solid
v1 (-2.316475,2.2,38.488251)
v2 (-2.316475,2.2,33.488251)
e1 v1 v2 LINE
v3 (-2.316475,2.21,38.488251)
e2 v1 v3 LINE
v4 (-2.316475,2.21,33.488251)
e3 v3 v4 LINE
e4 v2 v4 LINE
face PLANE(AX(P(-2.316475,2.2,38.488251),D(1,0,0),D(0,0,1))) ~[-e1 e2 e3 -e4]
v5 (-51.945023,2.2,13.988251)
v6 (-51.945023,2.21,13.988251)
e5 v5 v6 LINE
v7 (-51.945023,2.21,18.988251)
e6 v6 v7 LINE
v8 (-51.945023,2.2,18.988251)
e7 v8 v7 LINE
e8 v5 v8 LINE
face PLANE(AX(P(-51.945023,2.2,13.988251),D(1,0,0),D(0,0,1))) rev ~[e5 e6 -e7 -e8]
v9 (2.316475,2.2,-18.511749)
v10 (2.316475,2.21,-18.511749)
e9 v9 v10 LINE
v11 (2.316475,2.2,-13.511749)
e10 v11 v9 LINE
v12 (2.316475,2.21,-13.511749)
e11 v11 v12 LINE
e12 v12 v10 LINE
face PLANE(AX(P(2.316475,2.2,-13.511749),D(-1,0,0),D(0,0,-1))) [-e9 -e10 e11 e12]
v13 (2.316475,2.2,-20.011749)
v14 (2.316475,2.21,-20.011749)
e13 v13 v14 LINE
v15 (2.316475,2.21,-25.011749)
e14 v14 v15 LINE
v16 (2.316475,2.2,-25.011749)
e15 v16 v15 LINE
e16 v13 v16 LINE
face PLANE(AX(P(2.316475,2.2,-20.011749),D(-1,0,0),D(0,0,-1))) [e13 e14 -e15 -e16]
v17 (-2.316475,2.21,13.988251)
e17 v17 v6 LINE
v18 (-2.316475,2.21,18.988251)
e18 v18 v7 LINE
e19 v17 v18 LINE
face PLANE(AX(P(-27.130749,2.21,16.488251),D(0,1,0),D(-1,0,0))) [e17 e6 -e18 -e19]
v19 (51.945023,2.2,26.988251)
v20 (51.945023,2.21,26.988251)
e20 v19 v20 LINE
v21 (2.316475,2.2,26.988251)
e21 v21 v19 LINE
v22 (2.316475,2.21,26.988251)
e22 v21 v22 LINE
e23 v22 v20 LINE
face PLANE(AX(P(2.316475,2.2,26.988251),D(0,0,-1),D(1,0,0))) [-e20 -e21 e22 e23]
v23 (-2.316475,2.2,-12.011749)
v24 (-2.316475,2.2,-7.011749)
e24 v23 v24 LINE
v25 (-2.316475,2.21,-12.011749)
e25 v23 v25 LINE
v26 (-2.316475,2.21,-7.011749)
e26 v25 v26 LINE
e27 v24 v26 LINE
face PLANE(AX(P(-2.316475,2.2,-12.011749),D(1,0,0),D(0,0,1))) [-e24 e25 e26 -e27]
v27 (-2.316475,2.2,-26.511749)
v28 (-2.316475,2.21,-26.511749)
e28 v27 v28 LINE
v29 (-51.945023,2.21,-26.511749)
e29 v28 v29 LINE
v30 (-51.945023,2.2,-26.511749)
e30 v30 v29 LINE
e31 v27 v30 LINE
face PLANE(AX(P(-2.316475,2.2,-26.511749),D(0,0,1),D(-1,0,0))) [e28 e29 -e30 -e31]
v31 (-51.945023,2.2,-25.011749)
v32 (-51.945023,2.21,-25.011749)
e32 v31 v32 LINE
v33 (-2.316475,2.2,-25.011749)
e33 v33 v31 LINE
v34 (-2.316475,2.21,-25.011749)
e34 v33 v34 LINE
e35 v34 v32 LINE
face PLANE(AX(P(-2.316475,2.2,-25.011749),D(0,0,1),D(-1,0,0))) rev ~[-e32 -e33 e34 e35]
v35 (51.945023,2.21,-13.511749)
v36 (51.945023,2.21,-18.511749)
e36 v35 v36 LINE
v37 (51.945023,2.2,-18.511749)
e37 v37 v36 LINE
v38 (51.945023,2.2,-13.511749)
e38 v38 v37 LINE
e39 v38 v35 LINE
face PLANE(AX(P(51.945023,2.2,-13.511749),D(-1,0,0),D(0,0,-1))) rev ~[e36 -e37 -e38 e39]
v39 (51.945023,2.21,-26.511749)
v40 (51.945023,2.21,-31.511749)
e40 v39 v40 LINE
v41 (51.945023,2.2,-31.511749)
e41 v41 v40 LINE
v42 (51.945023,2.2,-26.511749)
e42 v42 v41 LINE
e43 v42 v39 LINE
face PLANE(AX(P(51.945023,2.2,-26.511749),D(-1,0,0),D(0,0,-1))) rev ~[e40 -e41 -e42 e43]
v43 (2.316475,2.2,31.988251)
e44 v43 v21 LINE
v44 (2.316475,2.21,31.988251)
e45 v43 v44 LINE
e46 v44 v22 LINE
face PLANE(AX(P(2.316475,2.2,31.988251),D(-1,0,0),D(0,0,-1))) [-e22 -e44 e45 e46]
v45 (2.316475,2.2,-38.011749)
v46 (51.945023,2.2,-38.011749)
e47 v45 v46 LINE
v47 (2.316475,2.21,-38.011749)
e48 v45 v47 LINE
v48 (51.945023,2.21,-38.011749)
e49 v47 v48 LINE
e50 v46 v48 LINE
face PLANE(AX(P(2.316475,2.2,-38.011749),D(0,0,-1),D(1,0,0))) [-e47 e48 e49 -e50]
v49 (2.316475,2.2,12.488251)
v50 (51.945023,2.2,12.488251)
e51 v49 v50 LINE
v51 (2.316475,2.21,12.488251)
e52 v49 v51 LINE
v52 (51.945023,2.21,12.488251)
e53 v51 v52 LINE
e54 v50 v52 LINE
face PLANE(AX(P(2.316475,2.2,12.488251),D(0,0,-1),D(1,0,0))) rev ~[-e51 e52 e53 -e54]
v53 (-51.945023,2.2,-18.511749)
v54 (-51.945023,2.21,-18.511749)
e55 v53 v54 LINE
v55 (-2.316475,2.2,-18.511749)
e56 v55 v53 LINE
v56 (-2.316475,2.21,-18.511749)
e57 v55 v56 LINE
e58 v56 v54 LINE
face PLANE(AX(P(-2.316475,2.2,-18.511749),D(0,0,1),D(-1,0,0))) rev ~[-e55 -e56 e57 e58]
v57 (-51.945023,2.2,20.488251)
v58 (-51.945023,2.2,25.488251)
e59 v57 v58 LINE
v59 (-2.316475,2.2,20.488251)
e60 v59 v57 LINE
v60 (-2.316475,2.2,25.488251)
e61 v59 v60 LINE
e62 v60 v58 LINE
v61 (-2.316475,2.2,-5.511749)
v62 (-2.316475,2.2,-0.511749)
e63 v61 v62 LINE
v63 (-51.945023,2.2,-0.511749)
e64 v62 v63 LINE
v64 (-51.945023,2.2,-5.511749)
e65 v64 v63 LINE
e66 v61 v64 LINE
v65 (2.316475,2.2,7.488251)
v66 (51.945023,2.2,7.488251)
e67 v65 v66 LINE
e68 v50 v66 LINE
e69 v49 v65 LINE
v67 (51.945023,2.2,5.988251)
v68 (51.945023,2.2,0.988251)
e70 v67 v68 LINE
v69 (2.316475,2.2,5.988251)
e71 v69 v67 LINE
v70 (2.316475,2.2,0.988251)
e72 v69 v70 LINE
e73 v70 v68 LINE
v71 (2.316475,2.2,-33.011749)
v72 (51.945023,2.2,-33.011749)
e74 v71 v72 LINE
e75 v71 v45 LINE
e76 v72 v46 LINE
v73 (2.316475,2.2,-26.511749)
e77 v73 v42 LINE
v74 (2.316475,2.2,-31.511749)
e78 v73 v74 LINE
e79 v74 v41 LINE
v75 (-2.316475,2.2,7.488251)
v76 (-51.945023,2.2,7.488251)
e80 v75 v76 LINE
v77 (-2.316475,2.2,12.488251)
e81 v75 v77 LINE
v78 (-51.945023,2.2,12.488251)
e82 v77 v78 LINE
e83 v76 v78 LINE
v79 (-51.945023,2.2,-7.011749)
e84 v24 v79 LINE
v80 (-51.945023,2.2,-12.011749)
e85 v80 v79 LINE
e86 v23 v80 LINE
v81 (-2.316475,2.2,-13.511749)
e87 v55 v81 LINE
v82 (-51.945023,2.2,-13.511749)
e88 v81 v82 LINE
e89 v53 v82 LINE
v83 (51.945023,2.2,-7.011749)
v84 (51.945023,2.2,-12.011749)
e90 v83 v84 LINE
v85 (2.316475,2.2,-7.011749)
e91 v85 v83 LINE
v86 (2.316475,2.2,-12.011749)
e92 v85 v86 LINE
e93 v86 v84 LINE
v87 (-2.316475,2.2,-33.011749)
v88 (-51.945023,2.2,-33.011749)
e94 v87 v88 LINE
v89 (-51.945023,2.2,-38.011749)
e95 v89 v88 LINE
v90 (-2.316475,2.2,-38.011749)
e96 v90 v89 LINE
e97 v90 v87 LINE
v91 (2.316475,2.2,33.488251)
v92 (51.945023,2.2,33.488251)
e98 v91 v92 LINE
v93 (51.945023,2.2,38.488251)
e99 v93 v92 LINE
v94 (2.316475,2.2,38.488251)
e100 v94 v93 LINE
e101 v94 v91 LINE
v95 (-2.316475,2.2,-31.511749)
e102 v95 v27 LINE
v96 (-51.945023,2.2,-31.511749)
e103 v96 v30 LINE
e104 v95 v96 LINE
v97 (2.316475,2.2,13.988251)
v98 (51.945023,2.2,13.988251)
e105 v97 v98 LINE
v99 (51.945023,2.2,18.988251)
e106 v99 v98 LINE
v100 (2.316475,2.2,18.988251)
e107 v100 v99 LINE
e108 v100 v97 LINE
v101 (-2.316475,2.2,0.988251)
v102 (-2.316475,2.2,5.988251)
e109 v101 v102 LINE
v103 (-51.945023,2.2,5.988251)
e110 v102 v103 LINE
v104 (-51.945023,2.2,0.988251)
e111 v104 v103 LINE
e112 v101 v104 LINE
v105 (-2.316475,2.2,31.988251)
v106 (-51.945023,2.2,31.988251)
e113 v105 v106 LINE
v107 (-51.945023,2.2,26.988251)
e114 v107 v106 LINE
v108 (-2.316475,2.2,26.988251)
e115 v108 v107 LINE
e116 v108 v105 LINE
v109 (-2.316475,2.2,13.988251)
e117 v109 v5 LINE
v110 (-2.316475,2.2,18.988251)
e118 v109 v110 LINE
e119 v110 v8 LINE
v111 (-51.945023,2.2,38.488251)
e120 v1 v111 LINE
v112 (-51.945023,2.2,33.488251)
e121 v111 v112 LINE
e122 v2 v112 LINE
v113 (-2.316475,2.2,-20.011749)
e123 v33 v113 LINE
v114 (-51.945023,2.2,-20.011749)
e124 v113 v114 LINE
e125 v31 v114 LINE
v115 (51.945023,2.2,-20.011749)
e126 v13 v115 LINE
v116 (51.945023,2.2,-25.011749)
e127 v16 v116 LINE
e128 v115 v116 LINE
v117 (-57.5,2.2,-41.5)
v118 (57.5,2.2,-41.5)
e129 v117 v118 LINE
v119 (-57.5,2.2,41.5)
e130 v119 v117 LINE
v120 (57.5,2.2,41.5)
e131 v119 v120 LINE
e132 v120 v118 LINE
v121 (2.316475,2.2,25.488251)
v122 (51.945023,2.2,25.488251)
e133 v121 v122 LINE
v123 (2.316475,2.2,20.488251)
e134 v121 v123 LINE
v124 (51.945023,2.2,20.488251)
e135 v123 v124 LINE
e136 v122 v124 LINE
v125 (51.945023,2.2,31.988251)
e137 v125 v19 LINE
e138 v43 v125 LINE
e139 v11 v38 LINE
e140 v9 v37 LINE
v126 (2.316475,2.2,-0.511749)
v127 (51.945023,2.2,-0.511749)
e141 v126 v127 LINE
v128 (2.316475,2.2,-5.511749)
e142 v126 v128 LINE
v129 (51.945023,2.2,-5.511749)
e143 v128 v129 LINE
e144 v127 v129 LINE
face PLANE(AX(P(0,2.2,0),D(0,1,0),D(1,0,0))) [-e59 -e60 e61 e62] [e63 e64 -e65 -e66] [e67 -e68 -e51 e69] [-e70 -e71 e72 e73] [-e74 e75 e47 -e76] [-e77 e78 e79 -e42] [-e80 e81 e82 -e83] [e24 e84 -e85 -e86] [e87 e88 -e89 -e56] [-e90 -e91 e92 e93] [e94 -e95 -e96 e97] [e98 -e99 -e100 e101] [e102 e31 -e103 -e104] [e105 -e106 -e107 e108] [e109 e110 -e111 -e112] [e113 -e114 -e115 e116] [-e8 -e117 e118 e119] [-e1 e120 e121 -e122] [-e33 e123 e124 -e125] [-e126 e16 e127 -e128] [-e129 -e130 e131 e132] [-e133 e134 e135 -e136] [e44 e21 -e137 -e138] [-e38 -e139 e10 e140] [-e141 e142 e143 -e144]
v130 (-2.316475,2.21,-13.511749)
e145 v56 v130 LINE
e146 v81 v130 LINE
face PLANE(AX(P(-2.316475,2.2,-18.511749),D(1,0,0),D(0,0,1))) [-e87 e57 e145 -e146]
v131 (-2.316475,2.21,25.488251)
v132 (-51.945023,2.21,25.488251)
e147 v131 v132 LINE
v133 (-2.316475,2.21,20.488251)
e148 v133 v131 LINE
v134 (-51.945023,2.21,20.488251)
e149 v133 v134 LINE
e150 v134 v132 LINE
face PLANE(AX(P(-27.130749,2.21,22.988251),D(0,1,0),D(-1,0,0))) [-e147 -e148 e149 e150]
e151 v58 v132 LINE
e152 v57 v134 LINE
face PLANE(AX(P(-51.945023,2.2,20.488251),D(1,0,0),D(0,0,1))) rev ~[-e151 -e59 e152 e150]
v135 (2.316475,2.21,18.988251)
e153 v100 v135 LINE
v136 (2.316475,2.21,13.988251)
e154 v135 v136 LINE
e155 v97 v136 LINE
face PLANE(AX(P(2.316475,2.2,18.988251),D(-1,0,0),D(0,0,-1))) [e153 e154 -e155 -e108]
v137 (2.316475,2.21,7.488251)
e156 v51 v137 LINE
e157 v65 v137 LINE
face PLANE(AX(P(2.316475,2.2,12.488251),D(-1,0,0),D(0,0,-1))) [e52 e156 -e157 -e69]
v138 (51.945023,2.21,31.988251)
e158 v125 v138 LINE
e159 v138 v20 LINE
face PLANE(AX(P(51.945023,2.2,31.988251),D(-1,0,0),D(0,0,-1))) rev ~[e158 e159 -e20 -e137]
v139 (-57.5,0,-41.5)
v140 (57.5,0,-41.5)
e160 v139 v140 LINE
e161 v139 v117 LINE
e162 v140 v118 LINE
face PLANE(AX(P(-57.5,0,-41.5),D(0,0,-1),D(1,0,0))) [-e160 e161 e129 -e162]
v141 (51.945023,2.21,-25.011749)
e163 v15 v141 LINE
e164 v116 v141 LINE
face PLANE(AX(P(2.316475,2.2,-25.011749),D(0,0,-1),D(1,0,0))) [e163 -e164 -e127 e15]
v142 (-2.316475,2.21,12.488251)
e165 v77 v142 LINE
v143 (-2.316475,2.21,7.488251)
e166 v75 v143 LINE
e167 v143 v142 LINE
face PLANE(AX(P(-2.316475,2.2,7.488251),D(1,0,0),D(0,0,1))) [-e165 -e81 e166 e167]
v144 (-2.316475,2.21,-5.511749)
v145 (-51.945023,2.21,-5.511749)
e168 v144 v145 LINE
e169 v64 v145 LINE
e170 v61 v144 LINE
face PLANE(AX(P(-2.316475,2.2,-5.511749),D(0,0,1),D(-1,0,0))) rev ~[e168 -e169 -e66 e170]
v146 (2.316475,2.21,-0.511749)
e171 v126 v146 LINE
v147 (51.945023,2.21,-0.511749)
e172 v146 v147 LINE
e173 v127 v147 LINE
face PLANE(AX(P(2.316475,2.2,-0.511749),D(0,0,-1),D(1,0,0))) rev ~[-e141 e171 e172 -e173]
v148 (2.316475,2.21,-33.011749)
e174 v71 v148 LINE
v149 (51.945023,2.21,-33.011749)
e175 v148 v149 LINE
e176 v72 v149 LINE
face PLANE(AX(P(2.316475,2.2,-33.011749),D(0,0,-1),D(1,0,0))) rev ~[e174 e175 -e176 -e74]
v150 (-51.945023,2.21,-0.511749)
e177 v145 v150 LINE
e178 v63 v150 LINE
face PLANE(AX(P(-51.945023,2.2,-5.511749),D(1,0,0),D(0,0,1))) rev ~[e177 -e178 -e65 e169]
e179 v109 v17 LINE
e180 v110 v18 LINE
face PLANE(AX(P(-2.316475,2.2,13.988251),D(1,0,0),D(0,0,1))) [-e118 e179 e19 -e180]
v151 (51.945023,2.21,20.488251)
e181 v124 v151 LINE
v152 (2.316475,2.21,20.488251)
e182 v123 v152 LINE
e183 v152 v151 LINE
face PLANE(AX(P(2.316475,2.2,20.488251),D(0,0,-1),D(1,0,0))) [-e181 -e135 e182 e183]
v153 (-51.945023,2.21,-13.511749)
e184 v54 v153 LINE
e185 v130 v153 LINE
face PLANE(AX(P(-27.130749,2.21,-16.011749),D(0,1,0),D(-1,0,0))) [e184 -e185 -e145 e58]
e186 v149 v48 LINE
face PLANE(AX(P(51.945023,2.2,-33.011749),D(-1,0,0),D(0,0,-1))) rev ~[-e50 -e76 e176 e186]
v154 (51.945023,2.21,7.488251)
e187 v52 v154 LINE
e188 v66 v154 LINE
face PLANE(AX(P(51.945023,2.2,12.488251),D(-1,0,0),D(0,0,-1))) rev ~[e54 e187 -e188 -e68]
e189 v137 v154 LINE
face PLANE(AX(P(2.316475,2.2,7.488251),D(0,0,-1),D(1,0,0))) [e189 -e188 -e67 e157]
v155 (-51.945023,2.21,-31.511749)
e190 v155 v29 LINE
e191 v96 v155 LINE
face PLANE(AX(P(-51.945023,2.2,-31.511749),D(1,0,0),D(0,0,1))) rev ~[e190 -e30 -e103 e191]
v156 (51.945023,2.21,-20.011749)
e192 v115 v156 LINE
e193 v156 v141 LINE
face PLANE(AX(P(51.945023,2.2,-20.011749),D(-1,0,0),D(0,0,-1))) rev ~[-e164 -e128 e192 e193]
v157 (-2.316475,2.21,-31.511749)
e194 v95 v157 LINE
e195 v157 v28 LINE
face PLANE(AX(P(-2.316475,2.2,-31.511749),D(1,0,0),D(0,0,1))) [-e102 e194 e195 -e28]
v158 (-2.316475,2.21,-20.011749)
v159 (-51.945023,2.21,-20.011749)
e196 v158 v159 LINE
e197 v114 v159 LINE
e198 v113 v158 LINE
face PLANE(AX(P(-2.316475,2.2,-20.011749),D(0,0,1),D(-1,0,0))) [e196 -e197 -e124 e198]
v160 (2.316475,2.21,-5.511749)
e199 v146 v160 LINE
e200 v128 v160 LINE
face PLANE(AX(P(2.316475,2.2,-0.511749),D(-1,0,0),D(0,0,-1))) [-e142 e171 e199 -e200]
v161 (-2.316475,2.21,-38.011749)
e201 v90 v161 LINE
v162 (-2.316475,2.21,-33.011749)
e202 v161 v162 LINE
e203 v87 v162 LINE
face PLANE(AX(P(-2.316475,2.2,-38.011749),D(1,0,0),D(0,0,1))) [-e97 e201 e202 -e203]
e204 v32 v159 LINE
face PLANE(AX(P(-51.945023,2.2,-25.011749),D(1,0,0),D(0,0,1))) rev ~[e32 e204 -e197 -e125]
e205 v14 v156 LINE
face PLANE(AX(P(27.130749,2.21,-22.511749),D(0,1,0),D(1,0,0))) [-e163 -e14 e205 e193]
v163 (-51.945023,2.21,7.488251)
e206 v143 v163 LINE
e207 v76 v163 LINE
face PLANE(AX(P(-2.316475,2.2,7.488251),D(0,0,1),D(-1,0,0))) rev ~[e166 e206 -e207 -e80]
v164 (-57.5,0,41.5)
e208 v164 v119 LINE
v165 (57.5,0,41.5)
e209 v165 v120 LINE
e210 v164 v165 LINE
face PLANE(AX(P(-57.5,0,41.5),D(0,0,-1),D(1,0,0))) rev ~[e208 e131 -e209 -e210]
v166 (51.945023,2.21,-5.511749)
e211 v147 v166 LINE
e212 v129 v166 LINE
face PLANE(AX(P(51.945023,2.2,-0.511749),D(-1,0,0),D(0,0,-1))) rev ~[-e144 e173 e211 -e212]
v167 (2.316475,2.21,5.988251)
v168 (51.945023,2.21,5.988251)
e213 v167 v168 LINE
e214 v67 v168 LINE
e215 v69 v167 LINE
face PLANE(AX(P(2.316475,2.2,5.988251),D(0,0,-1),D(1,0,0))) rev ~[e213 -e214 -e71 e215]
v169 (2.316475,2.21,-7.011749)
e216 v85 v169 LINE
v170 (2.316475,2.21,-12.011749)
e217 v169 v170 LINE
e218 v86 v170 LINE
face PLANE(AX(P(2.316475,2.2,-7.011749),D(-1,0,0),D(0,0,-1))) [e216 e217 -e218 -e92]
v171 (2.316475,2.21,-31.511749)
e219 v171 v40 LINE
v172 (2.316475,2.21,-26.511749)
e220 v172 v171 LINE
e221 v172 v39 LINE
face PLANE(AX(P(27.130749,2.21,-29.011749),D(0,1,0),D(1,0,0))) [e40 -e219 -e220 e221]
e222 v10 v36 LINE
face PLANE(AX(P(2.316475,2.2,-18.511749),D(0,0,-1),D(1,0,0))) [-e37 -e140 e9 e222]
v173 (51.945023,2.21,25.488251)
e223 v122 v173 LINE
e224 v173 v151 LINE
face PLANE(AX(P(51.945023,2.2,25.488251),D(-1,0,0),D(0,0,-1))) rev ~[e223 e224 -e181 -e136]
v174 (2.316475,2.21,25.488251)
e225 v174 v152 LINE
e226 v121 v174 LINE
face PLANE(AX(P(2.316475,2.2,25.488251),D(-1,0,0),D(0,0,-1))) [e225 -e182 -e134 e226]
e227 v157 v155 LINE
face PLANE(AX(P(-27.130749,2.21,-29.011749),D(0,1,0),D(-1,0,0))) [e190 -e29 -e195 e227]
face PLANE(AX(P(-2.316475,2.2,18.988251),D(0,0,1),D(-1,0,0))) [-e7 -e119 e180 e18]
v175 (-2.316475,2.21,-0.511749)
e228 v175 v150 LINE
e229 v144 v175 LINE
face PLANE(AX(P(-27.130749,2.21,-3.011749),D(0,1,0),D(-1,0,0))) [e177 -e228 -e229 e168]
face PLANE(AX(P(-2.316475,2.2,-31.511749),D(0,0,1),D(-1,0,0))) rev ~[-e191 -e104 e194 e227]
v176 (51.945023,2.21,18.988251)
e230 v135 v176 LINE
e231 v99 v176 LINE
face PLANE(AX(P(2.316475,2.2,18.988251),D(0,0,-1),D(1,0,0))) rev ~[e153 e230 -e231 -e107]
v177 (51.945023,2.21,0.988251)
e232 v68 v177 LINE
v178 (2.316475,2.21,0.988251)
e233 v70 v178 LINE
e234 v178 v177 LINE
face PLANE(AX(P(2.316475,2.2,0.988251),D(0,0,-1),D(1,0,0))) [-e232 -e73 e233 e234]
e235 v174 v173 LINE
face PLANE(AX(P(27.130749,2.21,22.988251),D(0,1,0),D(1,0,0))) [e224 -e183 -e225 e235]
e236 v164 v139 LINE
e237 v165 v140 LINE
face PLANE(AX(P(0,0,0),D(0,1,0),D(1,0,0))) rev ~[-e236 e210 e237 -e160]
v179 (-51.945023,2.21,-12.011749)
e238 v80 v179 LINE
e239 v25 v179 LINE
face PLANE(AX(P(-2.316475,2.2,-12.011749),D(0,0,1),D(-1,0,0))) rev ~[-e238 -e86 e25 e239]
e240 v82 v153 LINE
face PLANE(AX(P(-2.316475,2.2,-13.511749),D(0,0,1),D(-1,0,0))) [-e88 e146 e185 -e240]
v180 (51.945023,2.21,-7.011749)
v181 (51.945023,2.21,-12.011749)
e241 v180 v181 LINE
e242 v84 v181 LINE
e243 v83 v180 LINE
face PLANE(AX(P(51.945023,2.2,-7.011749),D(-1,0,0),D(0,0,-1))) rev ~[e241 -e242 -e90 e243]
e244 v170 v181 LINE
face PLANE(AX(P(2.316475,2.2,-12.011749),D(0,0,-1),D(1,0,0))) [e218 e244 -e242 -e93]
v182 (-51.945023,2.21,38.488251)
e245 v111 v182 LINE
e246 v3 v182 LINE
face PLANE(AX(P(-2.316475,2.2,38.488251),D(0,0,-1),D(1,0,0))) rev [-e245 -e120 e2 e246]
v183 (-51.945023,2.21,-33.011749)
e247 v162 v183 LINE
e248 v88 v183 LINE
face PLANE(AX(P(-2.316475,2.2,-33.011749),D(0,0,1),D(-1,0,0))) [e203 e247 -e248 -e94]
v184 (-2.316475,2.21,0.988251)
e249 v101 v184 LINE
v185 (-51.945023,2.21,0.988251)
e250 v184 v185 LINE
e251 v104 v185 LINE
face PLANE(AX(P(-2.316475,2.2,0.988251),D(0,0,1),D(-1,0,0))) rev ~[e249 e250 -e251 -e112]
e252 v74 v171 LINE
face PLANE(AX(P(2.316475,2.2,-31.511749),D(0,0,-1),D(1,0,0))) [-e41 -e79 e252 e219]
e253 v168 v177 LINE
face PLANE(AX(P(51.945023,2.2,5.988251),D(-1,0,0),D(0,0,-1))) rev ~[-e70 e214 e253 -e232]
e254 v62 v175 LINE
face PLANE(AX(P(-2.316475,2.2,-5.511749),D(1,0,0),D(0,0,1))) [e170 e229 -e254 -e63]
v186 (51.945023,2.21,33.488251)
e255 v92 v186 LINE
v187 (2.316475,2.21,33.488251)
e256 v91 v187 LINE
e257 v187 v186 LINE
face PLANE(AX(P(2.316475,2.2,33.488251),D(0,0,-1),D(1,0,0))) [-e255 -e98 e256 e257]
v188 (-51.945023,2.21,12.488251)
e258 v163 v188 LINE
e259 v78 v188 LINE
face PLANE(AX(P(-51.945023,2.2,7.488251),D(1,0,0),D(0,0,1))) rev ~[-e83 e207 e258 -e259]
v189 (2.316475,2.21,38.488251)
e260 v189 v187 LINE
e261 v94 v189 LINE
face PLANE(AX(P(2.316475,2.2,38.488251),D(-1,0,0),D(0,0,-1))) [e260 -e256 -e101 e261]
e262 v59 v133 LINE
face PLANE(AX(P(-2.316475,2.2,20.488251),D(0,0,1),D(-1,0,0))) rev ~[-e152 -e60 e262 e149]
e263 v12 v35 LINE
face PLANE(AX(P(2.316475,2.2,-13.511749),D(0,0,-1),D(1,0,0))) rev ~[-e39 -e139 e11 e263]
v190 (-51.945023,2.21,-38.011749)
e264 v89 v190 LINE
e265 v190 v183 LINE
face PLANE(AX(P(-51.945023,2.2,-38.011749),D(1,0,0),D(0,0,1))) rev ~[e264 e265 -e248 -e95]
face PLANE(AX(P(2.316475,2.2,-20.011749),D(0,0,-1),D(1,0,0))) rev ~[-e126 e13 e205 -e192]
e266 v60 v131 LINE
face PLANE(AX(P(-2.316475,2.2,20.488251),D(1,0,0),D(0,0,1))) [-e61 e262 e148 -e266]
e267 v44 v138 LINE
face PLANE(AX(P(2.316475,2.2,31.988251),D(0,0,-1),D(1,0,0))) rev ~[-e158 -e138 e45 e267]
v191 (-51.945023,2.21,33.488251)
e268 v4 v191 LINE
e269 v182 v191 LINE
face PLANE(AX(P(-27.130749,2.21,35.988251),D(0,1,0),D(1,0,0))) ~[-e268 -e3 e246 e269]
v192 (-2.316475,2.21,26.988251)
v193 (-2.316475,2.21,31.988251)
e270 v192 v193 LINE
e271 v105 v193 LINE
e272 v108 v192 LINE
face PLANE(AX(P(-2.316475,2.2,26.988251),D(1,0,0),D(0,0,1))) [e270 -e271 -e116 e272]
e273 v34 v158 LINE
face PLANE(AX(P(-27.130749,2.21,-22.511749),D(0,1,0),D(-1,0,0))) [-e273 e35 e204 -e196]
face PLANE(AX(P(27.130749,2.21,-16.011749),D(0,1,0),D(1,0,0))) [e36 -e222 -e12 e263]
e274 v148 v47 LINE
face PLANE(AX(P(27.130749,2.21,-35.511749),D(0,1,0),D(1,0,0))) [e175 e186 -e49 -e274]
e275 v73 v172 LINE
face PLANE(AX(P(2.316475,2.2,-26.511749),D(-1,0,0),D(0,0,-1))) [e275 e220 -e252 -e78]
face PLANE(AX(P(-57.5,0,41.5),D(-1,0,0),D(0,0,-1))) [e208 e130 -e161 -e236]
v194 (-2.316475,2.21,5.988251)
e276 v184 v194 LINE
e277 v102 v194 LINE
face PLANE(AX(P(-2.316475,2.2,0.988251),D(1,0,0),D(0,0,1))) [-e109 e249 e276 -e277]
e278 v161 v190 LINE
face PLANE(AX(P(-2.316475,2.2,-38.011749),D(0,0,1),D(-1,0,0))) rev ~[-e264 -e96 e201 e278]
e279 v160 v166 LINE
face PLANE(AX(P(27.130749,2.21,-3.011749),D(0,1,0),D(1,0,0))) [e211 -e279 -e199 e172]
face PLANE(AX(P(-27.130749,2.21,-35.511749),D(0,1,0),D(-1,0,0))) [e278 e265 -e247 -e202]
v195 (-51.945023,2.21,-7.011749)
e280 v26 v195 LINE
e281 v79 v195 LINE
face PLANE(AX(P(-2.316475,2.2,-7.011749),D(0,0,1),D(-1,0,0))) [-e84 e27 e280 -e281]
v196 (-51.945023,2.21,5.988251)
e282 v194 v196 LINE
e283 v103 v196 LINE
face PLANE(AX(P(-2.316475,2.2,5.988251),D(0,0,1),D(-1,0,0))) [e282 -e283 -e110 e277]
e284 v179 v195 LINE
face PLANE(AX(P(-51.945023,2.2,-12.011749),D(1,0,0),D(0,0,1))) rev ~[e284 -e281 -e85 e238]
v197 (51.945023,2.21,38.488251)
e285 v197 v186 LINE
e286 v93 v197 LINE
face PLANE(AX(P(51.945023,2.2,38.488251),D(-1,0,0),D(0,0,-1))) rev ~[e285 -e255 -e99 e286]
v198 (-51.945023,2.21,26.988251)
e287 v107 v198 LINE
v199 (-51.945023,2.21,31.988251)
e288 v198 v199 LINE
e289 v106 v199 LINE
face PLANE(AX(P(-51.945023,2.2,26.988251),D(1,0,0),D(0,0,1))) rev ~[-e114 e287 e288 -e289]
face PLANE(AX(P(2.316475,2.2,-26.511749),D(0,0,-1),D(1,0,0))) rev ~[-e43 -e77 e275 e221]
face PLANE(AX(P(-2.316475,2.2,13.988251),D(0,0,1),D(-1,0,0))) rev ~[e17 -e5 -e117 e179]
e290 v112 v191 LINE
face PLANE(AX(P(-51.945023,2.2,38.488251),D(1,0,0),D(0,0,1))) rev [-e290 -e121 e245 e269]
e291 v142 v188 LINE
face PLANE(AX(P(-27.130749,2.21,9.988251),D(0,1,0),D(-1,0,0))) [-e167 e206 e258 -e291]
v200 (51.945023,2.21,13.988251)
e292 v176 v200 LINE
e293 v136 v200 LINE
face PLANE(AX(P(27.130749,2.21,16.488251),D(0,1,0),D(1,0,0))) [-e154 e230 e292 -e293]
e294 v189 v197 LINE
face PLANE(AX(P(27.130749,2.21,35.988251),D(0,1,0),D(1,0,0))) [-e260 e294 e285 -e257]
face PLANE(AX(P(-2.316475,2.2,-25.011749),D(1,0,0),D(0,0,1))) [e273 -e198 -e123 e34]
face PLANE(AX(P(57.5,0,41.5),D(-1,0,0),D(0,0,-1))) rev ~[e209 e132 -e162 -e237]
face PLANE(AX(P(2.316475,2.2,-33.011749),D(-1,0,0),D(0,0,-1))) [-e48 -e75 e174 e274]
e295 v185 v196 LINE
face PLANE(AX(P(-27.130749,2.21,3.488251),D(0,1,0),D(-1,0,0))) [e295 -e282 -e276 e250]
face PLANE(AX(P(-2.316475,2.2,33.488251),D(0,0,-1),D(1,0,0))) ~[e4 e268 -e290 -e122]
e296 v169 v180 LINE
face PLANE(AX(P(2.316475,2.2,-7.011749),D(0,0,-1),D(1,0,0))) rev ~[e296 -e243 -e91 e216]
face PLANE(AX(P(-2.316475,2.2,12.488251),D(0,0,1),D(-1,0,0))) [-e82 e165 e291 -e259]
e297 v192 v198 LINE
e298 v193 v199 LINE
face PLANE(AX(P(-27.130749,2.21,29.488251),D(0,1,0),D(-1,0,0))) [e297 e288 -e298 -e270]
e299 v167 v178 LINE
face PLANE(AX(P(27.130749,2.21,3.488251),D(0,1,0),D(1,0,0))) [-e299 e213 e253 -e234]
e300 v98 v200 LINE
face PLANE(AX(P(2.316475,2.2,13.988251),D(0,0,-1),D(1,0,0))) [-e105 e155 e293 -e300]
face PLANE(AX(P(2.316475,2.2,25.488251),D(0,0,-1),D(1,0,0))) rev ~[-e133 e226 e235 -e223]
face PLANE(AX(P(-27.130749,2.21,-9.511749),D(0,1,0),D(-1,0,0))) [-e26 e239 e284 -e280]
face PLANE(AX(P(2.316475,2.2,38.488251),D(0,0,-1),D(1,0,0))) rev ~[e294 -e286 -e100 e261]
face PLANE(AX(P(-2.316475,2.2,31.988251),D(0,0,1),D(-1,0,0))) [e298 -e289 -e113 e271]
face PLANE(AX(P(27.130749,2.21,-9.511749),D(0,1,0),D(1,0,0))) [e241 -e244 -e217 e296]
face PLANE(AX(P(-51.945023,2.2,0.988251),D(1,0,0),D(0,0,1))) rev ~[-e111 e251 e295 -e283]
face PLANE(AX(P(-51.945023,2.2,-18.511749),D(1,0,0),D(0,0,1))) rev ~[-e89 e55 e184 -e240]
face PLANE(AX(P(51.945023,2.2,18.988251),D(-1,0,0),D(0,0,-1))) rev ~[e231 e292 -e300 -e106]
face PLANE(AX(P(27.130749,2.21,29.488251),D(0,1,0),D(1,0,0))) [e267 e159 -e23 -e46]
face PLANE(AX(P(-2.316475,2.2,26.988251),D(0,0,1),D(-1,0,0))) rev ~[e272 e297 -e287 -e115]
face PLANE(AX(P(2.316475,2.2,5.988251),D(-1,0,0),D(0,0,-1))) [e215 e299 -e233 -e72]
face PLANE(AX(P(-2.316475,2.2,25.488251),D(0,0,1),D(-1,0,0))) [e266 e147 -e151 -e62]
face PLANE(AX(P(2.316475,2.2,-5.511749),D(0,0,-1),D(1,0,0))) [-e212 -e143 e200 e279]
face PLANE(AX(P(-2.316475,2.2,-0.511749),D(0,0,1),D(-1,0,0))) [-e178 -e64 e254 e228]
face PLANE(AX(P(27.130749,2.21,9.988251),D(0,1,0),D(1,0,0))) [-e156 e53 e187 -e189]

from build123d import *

# Parameters (mm, degrees)
SKETCH_1_W                = 115
SKETCH_1_H                = 83
EXTRUDE_1_DEPTH           = 2.2
SKETCH_2_W                = 49.628548445
SKETCH_2_H                = 5
EXTRUDE_2_DEPTH           = 0.01
PATTERN_LINEAR_1_COUNT    = 12
PATTERN_LINEAR_1_PITCH    = 6.5
MIRROR_1_COPY_1_SKETCH_W  = 49.628548445
MIRROR_1_COPY_1_SKETCH_H  = 5
MIRROR_1_COPY_1_DEPTH     = 0.01
MIRROR_1_COPY_2_SKETCH_W  = 49.628548445
MIRROR_1_COPY_2_SKETCH_H  = 5
MIRROR_1_COPY_2_DEPTH     = 0.01
MIRROR_1_COPY_3_SKETCH_W  = 49.628548445
MIRROR_1_COPY_3_SKETCH_H  = 5
MIRROR_1_COPY_3_DEPTH     = 0.01
MIRROR_1_COPY_4_SKETCH_W  = 49.628548445
MIRROR_1_COPY_4_SKETCH_H  = 5
MIRROR_1_COPY_4_DEPTH     = 0.01
MIRROR_1_COPY_5_SKETCH_W  = 49.628548445
MIRROR_1_COPY_5_SKETCH_H  = 5
MIRROR_1_COPY_5_DEPTH     = 0.01
MIRROR_1_COPY_6_SKETCH_W  = 49.628548445
MIRROR_1_COPY_6_SKETCH_H  = 5
MIRROR_1_COPY_6_DEPTH     = 0.01
MIRROR_1_COPY_7_SKETCH_W  = 49.628548445
MIRROR_1_COPY_7_SKETCH_H  = 5
MIRROR_1_COPY_7_DEPTH     = 0.01
MIRROR_1_COPY_8_SKETCH_W  = 49.628548445
MIRROR_1_COPY_8_SKETCH_H  = 5
MIRROR_1_COPY_8_DEPTH     = 0.01
MIRROR_1_COPY_9_SKETCH_W  = 49.628548445
MIRROR_1_COPY_9_SKETCH_H  = 5
MIRROR_1_COPY_9_DEPTH     = 0.01
MIRROR_1_COPY_10_SKETCH_W = 49.628548445
MIRROR_1_COPY_10_SKETCH_H = 5
MIRROR_1_COPY_10_DEPTH    = 0.01
MIRROR_1_COPY_11_SKETCH_W = 49.628548445
MIRROR_1_COPY_11_SKETCH_H = 5
MIRROR_1_COPY_11_DEPTH    = 0.01


with BuildPart() as part:
    # Эскиз1 → Бобышка-Вытянуть1 (new body)
    with BuildSketch(Plane(origin=(0, 0, 0), x_dir=(1, 0, 0), z_dir=(0, 1, 0))):
        Rectangle(SKETCH_1_W, SKETCH_1_H)
    extrude(amount=EXTRUDE_1_DEPTH)

    # Эскиз2 → Бобышка-Вытянуть2 (add)
    with BuildSketch(Plane(origin=(0, 2.2, 0), x_dir=(1, 0, 0), z_dir=(0, 1, 0))):
        with Locations((27.130748896, -35.988250825)):
            Rectangle(SKETCH_2_W, SKETCH_2_H)
    extrude_2 = extrude(amount=EXTRUDE_2_DEPTH)

    # Линейный массив1: Бобышка-Вытянуть2 ×12
    with Locations(*[(0, 0, -i * PATTERN_LINEAR_1_PITCH) for i in range(1, PATTERN_LINEAR_1_COUNT)]):
        add(extrude_2)

    # Зеркальное отражение1: Бобышка-Вытянуть2 across plane
    add(extrude_2.mirror(Plane(origin=(0, 0, 0), x_dir=(0, 0, 1), z_dir=(1, 0, 0))))

    # Зеркальное отражение1 copy 1 sketch → Зеркальное отражение1 copy 1 (add)
    with BuildSketch(Plane(origin=(0, 2.2, -6.5), x_dir=(-1, 0, 0), z_dir=(0, 1, 0))):
        with Locations((27.130748896, 35.988250825)):
            Rectangle(MIRROR_1_COPY_1_SKETCH_W, MIRROR_1_COPY_1_SKETCH_H)
    extrude(amount=MIRROR_1_COPY_1_DEPTH)

    # Зеркальное отражение1 copy 2 sketch → Зеркальное отражение1 copy 2 (add)
    with BuildSketch(Plane(origin=(0, 2.2, -13), x_dir=(-1, 0, 0), z_dir=(0, 1, 0))):
        with Locations((27.130748896, 35.988250825)):
            Rectangle(MIRROR_1_COPY_2_SKETCH_W, MIRROR_1_COPY_2_SKETCH_H)
    extrude(amount=MIRROR_1_COPY_2_DEPTH)

    # Зеркальное отражение1 copy 3 sketch → Зеркальное отражение1 copy 3 (add)
    with BuildSketch(Plane(origin=(0, 2.2, -19.5), x_dir=(-1, 0, 0), z_dir=(0, 1, 0))):
        with Locations((27.130748896, 35.988250825)):
            Rectangle(MIRROR_1_COPY_3_SKETCH_W, MIRROR_1_COPY_3_SKETCH_H)
    extrude(amount=MIRROR_1_COPY_3_DEPTH)

    # Зеркальное отражение1 copy 4 sketch → Зеркальное отражение1 copy 4 (add)
    with BuildSketch(Plane(origin=(0, 2.2, -26), x_dir=(-1, 0, 0), z_dir=(0, 1, 0))):
        with Locations((27.130748896, 35.988250825)):
            Rectangle(MIRROR_1_COPY_4_SKETCH_W, MIRROR_1_COPY_4_SKETCH_H)
    extrude(amount=MIRROR_1_COPY_4_DEPTH)

    # Зеркальное отражение1 copy 5 sketch → Зеркальное отражение1 copy 5 (add)
    with BuildSketch(Plane(origin=(0, 2.2, -32.5), x_dir=(-1, 0, 0), z_dir=(0, 1, 0))):
        with Locations((27.130748896, 35.988250825)):
            Rectangle(MIRROR_1_COPY_5_SKETCH_W, MIRROR_1_COPY_5_SKETCH_H)
    extrude(amount=MIRROR_1_COPY_5_DEPTH)

    # Зеркальное отражение1 copy 6 sketch → Зеркальное отражение1 copy 6 (add)
    with BuildSketch(Plane(origin=(0, 2.2, -39), x_dir=(-1, 0, 0), z_dir=(0, 1, 0))):
        with Locations((27.130748896, 35.988250825)):
            Rectangle(MIRROR_1_COPY_6_SKETCH_W, MIRROR_1_COPY_6_SKETCH_H)
    extrude(amount=MIRROR_1_COPY_6_DEPTH)

    # Зеркальное отражение1 copy 7 sketch → Зеркальное отражение1 copy 7 (add)
    with BuildSketch(Plane(origin=(0, 2.2, -45.5), x_dir=(-1, 0, 0), z_dir=(0, 1, 0))):
        with Locations((27.130748896, 35.988250825)):
            Rectangle(MIRROR_1_COPY_7_SKETCH_W, MIRROR_1_COPY_7_SKETCH_H)
    extrude(amount=MIRROR_1_COPY_7_DEPTH)

    # Зеркальное отражение1 copy 8 sketch → Зеркальное отражение1 copy 8 (add)
    with BuildSketch(Plane(origin=(0, 2.2, -52), x_dir=(-1, 0, 0), z_dir=(0, 1, 0))):
        with Locations((27.130748896, 35.988250825)):
            Rectangle(MIRROR_1_COPY_8_SKETCH_W, MIRROR_1_COPY_8_SKETCH_H)
    extrude(amount=MIRROR_1_COPY_8_DEPTH)

    # Зеркальное отражение1 copy 9 sketch → Зеркальное отражение1 copy 9 (add)
    with BuildSketch(Plane(origin=(0, 2.2, -58.5), x_dir=(-1, 0, 0), z_dir=(0, 1, 0))):
        with Locations((27.130748896, 35.988250825)):
            Rectangle(MIRROR_1_COPY_9_SKETCH_W, MIRROR_1_COPY_9_SKETCH_H)
    extrude(amount=MIRROR_1_COPY_9_DEPTH)

    # Зеркальное отражение1 copy 10 sketch → Зеркальное отражение1 copy 10 (add)
    with BuildSketch(Plane(origin=(0, 2.2, -65), x_dir=(-1, 0, 0), z_dir=(0, 1, 0))):
        with Locations((27.130748896, 35.988250825)):
            Rectangle(MIRROR_1_COPY_10_SKETCH_W, MIRROR_1_COPY_10_SKETCH_H)
    extrude(amount=MIRROR_1_COPY_10_DEPTH)

    # Зеркальное отражение1 copy 11 sketch → Зеркальное отражение1 copy 11 (add)
    with BuildSketch(Plane(origin=(0, 2.2, -71.5), x_dir=(-1, 0, 0), z_dir=(0, 1, 0))):
        with Locations((27.130748896, 35.988250825)):
            Rectangle(MIRROR_1_COPY_11_SKETCH_W, MIRROR_1_COPY_11_SKETCH_H)
    extrude(amount=MIRROR_1_COPY_11_DEPTH)


solid = part.part
